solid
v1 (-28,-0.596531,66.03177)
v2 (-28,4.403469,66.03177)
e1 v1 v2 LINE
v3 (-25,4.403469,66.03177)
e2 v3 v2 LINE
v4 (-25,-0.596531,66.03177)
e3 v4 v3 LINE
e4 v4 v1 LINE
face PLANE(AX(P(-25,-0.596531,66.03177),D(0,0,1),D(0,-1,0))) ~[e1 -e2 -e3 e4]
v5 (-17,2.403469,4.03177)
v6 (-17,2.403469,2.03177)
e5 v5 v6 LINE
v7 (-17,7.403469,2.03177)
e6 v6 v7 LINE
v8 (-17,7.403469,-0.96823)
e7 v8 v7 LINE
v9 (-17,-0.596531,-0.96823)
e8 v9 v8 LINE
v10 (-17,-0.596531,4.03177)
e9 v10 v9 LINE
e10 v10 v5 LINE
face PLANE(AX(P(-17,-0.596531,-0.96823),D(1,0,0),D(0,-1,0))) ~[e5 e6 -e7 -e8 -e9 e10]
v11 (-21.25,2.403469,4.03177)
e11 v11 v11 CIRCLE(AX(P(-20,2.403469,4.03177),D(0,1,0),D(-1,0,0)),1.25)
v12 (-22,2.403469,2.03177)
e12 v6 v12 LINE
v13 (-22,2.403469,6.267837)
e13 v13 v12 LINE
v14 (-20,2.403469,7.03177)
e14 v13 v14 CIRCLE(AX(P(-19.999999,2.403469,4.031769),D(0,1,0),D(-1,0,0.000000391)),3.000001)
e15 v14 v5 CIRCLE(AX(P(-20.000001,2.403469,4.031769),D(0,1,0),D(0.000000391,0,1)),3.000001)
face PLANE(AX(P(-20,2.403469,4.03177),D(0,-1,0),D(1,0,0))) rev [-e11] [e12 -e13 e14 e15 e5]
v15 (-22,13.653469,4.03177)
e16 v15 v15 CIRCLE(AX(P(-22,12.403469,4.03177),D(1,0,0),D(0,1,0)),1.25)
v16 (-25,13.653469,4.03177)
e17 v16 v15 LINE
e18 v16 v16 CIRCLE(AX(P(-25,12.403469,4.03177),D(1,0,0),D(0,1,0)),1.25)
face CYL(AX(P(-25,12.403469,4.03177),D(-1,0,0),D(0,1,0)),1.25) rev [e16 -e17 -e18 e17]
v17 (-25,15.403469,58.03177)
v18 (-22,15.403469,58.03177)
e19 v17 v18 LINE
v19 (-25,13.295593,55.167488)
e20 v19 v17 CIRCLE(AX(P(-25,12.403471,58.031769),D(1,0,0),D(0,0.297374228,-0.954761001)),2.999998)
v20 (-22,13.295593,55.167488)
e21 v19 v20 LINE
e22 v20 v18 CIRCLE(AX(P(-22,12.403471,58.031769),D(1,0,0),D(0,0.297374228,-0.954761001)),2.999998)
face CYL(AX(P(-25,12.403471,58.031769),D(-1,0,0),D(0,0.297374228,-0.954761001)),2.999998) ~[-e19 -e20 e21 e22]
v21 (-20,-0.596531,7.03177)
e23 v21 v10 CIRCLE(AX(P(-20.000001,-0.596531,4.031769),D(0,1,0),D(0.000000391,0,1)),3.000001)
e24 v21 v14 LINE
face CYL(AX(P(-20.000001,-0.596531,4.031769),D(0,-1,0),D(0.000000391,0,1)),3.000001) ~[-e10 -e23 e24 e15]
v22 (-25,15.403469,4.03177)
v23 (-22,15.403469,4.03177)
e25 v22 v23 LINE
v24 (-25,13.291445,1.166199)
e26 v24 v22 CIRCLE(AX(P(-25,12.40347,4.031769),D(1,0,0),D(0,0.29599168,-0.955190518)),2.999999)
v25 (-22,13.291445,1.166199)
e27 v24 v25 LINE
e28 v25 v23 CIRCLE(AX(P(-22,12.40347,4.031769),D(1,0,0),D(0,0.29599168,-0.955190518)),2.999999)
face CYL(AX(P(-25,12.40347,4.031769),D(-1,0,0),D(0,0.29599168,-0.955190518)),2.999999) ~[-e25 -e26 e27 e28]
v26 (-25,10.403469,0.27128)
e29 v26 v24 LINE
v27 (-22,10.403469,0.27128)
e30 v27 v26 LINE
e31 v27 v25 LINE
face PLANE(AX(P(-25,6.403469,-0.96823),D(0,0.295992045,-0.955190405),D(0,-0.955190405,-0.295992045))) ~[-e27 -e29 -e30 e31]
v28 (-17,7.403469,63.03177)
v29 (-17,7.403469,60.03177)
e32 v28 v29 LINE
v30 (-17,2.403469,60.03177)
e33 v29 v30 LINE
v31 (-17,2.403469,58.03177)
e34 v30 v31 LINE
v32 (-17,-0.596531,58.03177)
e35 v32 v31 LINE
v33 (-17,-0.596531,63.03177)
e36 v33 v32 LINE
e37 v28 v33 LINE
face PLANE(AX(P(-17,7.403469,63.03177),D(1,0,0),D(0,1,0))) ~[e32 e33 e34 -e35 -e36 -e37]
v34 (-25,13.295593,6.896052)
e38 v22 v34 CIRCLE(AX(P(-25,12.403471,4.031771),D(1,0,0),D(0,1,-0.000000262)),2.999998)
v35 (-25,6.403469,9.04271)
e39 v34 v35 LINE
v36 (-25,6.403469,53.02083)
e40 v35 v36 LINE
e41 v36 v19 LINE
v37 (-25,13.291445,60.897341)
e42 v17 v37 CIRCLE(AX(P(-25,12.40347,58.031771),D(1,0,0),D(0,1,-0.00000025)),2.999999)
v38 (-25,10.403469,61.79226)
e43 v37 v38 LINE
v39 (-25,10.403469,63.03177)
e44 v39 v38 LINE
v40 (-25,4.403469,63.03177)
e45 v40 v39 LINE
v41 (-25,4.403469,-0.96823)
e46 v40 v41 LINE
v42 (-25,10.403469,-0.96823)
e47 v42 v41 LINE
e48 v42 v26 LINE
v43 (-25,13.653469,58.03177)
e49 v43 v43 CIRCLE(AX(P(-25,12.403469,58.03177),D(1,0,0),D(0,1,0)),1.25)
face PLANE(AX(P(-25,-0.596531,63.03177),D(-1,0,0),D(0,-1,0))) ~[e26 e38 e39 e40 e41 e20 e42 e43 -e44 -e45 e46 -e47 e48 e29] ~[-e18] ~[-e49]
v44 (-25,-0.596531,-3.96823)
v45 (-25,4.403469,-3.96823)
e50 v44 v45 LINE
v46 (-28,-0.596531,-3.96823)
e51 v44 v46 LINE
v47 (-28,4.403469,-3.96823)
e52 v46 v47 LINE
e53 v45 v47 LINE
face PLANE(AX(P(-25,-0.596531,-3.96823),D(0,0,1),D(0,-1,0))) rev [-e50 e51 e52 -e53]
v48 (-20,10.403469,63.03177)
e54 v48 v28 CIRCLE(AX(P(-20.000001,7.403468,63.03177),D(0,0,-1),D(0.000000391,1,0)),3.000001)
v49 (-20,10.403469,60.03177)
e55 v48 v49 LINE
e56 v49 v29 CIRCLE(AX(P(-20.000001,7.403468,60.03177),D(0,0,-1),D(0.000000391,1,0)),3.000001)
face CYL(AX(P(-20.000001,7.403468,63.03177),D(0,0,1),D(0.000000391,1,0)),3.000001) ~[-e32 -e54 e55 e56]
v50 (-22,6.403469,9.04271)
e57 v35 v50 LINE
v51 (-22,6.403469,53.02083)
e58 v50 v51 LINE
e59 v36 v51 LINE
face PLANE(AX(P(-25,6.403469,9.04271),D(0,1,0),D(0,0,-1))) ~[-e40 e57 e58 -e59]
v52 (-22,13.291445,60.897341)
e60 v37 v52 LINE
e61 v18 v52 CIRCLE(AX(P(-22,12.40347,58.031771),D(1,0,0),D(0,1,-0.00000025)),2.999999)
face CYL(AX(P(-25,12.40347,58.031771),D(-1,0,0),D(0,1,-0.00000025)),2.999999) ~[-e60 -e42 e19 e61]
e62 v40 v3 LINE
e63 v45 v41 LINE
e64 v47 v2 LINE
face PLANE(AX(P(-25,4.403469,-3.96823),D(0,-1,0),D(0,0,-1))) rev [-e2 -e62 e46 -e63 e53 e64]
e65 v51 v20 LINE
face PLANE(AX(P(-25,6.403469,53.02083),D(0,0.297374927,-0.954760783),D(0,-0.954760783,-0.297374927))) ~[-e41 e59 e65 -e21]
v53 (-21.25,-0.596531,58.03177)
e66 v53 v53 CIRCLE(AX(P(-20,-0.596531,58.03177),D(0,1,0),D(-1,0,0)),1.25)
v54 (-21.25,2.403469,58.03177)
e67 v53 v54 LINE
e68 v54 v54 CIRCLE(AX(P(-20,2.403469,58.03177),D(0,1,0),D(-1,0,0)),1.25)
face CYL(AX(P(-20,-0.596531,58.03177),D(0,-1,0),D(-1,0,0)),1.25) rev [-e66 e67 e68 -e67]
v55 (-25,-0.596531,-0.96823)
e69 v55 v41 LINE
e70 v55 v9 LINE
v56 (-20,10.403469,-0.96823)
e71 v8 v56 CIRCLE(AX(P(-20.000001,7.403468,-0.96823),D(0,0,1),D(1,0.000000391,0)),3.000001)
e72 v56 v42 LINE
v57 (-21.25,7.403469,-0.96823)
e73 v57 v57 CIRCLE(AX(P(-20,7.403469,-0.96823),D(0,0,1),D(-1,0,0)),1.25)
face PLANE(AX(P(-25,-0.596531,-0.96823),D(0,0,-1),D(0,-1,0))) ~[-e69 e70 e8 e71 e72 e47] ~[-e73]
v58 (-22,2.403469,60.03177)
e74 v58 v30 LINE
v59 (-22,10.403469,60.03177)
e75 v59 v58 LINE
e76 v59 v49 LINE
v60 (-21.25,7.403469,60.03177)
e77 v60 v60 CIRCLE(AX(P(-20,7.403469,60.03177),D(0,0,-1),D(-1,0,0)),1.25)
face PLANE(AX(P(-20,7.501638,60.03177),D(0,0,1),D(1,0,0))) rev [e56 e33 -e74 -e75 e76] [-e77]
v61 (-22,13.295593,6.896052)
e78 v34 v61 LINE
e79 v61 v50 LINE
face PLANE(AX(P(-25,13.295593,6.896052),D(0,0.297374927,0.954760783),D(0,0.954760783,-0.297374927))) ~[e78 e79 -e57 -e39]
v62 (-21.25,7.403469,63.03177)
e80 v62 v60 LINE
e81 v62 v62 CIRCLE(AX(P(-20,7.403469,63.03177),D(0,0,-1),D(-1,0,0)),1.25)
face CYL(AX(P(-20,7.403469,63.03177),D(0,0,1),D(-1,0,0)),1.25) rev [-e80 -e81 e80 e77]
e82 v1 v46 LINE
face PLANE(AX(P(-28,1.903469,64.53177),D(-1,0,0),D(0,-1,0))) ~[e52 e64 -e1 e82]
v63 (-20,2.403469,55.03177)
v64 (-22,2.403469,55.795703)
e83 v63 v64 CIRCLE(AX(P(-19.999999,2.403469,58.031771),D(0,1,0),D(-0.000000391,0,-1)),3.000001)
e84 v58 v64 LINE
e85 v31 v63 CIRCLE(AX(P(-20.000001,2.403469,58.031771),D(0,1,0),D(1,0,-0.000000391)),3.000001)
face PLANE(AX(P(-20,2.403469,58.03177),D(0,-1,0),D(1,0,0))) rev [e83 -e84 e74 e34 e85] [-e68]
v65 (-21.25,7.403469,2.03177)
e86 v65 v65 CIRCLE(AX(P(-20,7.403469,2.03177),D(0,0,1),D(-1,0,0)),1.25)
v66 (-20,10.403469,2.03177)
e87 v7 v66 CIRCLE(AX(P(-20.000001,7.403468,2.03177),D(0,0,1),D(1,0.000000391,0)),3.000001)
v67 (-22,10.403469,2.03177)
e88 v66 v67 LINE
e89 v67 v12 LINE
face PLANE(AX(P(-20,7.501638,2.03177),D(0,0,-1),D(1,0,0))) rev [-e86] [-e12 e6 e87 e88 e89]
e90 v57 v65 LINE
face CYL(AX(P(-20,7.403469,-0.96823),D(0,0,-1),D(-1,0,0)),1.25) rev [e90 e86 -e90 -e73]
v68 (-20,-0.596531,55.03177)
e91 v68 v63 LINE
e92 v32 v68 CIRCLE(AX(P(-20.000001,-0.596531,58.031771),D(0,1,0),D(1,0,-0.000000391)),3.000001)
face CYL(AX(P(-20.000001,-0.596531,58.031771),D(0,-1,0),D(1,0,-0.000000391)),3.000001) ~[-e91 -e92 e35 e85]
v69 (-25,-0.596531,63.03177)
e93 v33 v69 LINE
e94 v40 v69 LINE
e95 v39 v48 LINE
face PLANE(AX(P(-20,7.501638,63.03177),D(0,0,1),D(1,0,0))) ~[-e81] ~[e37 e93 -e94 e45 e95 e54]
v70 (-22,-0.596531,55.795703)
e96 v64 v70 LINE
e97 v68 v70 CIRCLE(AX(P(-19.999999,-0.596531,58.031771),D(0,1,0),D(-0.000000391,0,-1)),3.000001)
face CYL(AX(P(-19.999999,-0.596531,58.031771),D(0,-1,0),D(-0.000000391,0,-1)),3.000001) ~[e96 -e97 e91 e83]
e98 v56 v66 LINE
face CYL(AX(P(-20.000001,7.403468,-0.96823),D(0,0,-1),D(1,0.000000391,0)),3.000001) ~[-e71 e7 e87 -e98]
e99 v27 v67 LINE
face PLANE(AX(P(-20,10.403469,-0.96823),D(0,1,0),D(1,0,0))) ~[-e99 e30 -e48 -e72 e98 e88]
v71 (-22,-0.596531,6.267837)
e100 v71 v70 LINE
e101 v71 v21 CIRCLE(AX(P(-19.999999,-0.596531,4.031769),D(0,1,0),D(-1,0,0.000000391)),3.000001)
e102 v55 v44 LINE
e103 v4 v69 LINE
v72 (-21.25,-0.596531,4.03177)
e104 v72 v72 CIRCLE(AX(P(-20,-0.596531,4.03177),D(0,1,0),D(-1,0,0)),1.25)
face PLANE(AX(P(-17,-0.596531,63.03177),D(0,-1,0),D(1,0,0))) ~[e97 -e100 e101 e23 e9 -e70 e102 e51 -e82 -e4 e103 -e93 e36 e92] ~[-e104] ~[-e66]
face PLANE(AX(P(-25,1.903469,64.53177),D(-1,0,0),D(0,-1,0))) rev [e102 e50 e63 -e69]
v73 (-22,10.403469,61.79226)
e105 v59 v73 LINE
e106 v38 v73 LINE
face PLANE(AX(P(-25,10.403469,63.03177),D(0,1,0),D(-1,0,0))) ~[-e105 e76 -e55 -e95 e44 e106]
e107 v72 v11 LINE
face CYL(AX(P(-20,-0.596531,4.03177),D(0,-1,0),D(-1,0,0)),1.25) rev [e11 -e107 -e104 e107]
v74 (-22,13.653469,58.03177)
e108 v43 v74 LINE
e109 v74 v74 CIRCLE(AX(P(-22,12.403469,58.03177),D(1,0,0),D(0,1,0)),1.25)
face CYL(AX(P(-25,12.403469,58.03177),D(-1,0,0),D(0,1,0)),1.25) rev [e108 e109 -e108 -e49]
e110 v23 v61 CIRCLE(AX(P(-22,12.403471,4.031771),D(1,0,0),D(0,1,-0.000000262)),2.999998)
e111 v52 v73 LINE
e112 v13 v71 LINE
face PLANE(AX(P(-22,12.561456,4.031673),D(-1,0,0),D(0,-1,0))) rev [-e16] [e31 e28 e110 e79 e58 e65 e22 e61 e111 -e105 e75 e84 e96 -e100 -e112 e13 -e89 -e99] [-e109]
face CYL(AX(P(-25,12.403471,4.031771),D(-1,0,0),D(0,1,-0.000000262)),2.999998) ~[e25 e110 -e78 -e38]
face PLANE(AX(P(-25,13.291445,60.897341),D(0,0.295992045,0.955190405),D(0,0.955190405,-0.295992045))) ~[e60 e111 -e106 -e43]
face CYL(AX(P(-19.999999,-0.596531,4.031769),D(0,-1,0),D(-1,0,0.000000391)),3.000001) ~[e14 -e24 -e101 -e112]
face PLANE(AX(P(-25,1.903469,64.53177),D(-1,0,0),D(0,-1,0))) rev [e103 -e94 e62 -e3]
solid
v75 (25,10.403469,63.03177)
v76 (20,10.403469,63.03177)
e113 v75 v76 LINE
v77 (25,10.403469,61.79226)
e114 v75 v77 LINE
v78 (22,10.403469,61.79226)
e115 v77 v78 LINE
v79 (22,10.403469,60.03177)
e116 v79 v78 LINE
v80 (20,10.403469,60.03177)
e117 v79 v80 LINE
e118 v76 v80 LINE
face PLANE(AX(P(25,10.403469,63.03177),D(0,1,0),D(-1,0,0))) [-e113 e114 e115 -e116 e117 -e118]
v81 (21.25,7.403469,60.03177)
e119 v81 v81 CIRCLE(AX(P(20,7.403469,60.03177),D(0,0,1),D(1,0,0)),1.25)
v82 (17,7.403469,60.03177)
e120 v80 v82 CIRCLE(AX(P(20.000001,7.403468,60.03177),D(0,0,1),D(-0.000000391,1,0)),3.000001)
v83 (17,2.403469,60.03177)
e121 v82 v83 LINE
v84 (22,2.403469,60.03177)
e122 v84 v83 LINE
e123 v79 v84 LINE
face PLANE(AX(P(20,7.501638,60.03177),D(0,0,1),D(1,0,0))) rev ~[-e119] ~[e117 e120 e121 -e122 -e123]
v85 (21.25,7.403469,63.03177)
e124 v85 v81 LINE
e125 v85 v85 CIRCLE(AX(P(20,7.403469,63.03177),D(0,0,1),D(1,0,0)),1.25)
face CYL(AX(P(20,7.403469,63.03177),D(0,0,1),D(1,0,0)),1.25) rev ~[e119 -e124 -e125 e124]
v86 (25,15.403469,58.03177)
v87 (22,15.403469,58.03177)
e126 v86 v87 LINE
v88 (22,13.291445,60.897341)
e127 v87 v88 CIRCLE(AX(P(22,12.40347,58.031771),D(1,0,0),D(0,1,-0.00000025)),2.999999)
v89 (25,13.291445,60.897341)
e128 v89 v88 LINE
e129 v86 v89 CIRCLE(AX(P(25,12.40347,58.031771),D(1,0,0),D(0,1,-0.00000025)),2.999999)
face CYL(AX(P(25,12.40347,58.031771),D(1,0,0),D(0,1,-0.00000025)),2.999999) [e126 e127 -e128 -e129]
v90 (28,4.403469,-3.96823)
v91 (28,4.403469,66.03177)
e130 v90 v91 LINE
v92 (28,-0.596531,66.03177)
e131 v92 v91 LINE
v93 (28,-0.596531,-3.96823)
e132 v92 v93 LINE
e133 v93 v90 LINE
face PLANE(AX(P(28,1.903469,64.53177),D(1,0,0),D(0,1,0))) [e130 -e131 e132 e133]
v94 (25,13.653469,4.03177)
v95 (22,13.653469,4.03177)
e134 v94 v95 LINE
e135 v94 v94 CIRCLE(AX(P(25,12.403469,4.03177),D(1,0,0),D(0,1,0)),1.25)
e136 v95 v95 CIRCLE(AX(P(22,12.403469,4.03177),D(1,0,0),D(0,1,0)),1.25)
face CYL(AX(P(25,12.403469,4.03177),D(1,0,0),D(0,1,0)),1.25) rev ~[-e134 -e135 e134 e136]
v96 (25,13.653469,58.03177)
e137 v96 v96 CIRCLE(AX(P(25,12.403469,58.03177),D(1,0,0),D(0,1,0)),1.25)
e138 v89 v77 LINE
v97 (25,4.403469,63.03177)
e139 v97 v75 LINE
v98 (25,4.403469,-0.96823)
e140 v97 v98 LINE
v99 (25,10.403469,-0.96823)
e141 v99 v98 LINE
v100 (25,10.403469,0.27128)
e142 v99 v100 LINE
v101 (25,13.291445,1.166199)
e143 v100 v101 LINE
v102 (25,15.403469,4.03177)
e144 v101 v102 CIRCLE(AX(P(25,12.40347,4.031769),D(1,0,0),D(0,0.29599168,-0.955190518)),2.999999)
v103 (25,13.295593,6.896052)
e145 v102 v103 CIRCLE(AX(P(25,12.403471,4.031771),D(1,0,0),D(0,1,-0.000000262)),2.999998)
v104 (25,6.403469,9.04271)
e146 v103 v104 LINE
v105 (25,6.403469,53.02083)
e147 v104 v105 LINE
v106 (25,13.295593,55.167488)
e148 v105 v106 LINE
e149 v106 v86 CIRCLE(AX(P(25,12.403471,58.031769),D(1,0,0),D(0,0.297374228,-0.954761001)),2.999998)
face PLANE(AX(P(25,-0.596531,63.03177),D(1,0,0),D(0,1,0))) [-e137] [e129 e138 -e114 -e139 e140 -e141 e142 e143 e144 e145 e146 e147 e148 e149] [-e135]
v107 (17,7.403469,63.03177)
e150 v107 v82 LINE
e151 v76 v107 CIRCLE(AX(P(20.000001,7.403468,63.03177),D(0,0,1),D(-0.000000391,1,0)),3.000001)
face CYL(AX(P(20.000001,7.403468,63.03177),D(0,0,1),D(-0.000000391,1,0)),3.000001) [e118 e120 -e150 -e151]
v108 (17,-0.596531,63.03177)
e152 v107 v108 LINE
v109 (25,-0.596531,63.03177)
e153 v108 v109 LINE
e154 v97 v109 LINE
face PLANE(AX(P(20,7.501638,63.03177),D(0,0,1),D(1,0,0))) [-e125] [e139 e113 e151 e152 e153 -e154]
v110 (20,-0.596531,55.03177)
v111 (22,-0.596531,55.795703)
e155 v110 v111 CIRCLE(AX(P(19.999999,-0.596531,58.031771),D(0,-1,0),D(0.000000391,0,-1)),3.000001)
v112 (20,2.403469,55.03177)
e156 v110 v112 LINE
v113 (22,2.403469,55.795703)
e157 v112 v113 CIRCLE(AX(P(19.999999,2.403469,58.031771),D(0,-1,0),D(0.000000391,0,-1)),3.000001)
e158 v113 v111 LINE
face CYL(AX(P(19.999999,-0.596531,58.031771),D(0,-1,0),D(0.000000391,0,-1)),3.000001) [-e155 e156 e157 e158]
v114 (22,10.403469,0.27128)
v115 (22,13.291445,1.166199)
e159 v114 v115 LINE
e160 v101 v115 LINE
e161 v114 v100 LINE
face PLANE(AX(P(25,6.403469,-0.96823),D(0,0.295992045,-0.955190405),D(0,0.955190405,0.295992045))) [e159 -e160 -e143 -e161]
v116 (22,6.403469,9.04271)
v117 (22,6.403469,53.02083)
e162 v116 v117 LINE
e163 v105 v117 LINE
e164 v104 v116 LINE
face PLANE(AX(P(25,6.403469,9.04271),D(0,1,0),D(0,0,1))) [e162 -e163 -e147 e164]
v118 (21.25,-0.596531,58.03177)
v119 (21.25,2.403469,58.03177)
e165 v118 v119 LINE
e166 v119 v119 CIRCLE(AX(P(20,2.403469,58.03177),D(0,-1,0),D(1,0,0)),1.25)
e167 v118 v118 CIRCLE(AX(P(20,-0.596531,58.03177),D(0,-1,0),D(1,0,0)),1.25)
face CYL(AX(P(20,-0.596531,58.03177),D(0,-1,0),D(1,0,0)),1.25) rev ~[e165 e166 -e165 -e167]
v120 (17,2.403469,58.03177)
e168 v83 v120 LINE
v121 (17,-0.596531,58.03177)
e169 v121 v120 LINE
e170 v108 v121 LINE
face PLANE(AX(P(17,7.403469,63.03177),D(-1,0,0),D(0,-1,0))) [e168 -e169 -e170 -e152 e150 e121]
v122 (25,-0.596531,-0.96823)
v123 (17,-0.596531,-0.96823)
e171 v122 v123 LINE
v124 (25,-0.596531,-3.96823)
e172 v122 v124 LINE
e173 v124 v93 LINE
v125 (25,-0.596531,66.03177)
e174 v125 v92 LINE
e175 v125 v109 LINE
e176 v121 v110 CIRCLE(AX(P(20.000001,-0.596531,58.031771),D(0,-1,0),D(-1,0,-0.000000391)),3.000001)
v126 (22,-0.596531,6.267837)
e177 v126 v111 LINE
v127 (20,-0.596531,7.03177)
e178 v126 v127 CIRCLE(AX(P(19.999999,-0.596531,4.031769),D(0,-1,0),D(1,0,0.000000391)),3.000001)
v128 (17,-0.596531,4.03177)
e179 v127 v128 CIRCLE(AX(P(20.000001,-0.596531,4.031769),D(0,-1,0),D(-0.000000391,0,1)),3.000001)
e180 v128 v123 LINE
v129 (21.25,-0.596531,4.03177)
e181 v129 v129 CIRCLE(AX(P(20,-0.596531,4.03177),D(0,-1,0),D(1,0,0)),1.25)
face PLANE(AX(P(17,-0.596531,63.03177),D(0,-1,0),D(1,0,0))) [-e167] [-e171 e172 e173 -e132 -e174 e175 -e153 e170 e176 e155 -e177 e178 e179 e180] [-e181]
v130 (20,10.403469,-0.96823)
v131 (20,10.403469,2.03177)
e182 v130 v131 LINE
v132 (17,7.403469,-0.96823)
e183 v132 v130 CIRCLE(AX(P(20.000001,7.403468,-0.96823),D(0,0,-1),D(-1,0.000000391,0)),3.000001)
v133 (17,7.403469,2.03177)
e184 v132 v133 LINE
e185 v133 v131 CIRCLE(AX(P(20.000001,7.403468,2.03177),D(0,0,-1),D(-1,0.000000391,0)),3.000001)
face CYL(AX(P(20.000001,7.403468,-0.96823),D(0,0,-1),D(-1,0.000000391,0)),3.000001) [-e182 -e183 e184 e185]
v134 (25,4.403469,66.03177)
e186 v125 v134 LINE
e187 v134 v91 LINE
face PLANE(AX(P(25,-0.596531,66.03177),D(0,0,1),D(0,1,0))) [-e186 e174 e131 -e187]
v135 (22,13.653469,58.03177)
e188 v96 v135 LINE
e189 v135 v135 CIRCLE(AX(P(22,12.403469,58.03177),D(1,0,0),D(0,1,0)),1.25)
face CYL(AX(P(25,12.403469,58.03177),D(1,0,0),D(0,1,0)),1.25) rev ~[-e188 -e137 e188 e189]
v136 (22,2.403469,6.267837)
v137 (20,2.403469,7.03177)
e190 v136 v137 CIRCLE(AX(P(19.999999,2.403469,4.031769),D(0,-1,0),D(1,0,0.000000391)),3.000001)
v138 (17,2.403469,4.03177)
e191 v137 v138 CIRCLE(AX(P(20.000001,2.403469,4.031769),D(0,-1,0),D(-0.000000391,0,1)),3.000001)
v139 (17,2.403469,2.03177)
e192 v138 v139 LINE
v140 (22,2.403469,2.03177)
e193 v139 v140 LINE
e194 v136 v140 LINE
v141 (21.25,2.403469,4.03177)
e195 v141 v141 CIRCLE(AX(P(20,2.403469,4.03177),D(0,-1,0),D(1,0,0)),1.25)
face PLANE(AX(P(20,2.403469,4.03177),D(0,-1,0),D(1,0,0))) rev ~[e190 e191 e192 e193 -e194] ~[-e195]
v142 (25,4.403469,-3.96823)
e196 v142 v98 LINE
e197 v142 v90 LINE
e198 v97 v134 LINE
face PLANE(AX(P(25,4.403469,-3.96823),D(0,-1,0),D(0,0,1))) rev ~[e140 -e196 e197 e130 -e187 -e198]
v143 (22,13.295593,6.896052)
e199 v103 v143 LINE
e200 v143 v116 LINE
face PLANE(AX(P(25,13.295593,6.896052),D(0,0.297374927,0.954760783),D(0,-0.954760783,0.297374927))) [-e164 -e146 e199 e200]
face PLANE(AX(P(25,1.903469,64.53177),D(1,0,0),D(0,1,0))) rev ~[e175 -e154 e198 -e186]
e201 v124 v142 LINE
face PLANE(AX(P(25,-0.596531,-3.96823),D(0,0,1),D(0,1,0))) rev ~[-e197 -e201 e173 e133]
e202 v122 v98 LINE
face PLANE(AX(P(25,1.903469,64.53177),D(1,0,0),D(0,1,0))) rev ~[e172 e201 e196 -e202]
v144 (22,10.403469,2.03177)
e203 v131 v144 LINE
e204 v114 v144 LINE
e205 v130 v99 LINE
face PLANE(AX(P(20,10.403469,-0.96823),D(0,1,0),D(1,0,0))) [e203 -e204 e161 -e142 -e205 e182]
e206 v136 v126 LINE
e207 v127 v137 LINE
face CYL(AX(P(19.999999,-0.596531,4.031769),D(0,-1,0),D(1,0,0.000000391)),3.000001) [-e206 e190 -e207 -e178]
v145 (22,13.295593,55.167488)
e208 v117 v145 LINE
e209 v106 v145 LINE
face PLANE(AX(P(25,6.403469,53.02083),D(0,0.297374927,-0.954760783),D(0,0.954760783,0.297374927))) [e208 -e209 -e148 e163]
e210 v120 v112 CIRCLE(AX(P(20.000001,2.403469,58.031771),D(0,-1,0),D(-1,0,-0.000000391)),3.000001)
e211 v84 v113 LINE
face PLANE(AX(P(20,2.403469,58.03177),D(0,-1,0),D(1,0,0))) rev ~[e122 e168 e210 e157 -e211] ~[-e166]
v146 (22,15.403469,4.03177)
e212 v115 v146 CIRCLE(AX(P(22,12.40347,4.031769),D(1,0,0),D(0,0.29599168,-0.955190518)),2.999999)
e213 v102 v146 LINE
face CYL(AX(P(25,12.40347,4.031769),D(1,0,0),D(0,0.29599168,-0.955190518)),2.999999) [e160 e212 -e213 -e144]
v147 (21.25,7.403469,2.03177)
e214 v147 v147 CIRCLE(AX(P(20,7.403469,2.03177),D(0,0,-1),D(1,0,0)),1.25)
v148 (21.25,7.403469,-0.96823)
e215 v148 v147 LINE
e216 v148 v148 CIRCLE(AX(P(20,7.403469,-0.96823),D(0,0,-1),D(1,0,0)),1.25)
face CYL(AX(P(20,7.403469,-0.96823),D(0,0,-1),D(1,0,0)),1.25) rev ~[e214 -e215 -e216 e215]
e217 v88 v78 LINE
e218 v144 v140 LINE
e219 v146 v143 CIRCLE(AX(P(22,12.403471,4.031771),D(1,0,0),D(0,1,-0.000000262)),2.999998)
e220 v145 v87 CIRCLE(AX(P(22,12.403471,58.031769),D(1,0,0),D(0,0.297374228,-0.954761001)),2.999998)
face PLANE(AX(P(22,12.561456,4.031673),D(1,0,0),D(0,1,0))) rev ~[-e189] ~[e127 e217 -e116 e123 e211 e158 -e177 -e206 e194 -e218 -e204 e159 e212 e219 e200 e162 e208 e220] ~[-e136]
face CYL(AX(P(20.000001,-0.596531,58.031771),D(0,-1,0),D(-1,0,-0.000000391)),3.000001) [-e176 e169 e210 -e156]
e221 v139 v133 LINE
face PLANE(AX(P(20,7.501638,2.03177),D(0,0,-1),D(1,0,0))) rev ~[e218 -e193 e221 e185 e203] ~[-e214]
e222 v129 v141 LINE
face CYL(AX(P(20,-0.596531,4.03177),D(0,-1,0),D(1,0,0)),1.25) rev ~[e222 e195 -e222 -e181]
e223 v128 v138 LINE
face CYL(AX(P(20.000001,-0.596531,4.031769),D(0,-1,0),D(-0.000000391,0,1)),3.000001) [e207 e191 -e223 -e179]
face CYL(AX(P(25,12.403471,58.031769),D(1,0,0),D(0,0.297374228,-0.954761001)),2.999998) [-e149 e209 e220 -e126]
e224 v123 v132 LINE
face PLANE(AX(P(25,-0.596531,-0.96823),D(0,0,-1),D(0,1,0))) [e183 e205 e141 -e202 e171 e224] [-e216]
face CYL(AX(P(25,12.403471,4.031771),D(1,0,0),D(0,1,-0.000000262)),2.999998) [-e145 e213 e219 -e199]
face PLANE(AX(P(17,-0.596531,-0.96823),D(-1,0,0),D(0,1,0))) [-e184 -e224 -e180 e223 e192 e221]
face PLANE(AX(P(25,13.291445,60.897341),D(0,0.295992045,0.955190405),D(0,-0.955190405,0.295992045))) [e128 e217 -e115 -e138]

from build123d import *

# Parameters (mm, degrees)
F1_W     = 5
F1_H     = 3
F1_H_2   = 64
F2_DEPTH = 3
F1_R     = 1.25
F3_DEPTH = 3
F4_R     = 1.25
F5_DEPTH = 3
F6_R     = 1.25
F7_DEPTH = 3
F8_R     = 1.25
F9_DEPTH = 3


with BuildPart() as f2:
    # F1 (on offset) → F2 (new body)
    with BuildSketch(Plane.YZ.offset(25)):
        with Locations((1.903469, 64.53177)):
            Rectangle(F1_W, F1_H)
        with Locations((1.903469, 31.03177)):
            Rectangle(F1_W, F1_H_2)
        with Locations((1.903469, -2.46823)):
            Rectangle(F1_W, F1_H)
    extrude(amount=F2_DEPTH)

    # F1 (on offset) → F3 (join)
    with BuildSketch(Plane.YZ.offset(25)):
        with BuildLine():
            ThreePointArc((13.295593, 6.896052), (9.40347, 4.033942), (13.291445, 1.166199))
            ThreePointArc((13.291445, 1.166199), (14.818415, 2.251872), (15.403469, 4.03177))
            ThreePointArc((15.403469, 4.03177), (14.819703, 5.809919), (13.295593, 6.896052))
        make_face()
        with Locations((12.403469, 4.03177)):
            Circle(F1_R, mode=Mode.SUBTRACT)
        with BuildLine():
            ThreePointArc((15.403469, 58.03177), (14.818415, 59.811668), (13.291445, 60.897341))
            ThreePointArc((13.291445, 60.897341), (9.40347, 58.029598), (13.295593, 55.167488))
            ThreePointArc((13.295593, 55.167488), (14.819703, 56.253621), (15.403469, 58.03177))
        make_face()
        with Locations((12.403469, 58.03177)):
            Circle(F1_R, mode=Mode.SUBTRACT)
        with BuildLine():
            Line((13.291445, 60.897341), (6.403469, 63.03177))
            Line((6.403469, 63.03177), (6.403469, 53.02083))
            Line((6.403469, 53.02083), (13.295593, 55.167488))
            ThreePointArc((13.295593, 55.167488), (9.40347, 58.029598), (13.291445, 60.897341))
        make_face()
        with BuildLine():
            Line((6.403469, 9.04271), (6.403469, -0.96823))
            Line((6.403469, -0.96823), (13.291445, 1.166199))
            ThreePointArc((13.291445, 1.166199), (9.40347, 4.033942), (13.295593, 6.896052))
            Line((13.295593, 6.896052), (6.403469, 9.04271))
        make_face()
        with Locations((1.903469, 31.03177)):
            Rectangle(F1_W, F1_H_2)
        Polygon((6.403469, 63.03177), (4.403469, 63.03177), (4.403469, -0.96823), (6.403469, -0.96823), (6.403469, 9.04271), (6.403469, 53.02083), align=None)
    extrude(amount=-F3_DEPTH)

    # F4 (on face) → F5 (join)
    with BuildSketch(Plane.XZ.offset(0.596531)):
        with BuildLine():
            ThreePointArc((20, 61.03177), (17.87868, 60.15309), (17, 58.03177))
            ThreePointArc((17, 58.03177), (17.87868, 55.91045), (20, 55.03177))
            ThreePointArc((20, 55.03177), (22.12132, 55.91045), (23, 58.03177))
            ThreePointArc((23, 58.03177), (22.12132, 60.15309), (20, 61.03177))
        make_face()
        with Locations((20, 58.03177)):
            Circle(F4_R, mode=Mode.SUBTRACT)
        with BuildLine():
            Line((17, 61.03177), (17, 58.03177))
            ThreePointArc((17, 58.03177), (17.87868, 60.15309), (20, 61.03177))
            Line((20, 61.03177), (17, 61.03177))
        make_face()
        with BuildLine():
            ThreePointArc((20, 1.03177), (22.12132, 1.91045), (23, 4.03177))
            ThreePointArc((23, 4.03177), (22.12132, 6.15309), (20, 7.03177))
            ThreePointArc((20, 7.03177), (17.87868, 6.15309), (17, 4.03177))
            ThreePointArc((17, 4.03177), (17.87868, 1.91045), (20, 1.03177))
        make_face()
        with Locations((20, 4.03177)):
            Circle(F4_R, mode=Mode.SUBTRACT)
        with BuildLine():
            Line((17, 1.03177), (20, 1.03177))
            ThreePointArc((20, 1.03177), (17.87868, 1.91045), (17, 4.03177))
            Line((17, 4.03177), (17, 1.03177))
        make_face()
    extrude(amount=-F5_DEPTH)

    # F6 (on face) → F7 (join)
    with BuildSketch(Plane.XY.offset(63.03177)):
        with BuildLine():
            ThreePointArc((17, 7.403469), (20, 4.403469), (23, 7.403469))
            ThreePointArc((23, 7.403469), (22.12132, 9.524789), (20, 10.403469))
            ThreePointArc((20, 10.403469), (17.87868, 9.524789), (17, 7.403469))
        make_face()
        with Locations((20, 7.403469)):
            Circle(F6_R, mode=Mode.SUBTRACT)
        with BuildLine():
            ThreePointArc((20, 10.403469), (22.12132, 9.524789), (23, 7.403469))
            ThreePointArc((23, 7.403469), (20, 4.403469), (17, 7.403469))
            Line((17, 7.403469), (17, -0.596531))
            Line((17, -0.596531), (20, -0.596531))
            Line((20, -0.596531), (25, 4.403469))
            Line((25, 4.403469), (25, 6.403469))
            Line((25, 6.403469), (25, 10.403469))
            Line((25, 10.403469), (20, 10.403469))
        make_face()
        Polygon((25, 4.403469), (20, -0.596531), (22, -0.596531), (25, -0.596531), align=None)
        with BuildLine():
            ThreePointArc((22, 5.167401), (18.775255, 4.664856), (17, 7.403469))
            Line((17, 7.403469), (17, -0.596531))
            Line((17, -0.596531), (20, -0.596531))
            Line((20, -0.596531), (22, 1.403469))
            Line((22, 1.403469), (22, 5.167401))
        make_face()
        with BuildLine():
            ThreePointArc((20, 10.403469), (22.12132, 9.524789), (23, 7.403469))
            ThreePointArc((23, 7.403469), (22.956796, 6.896163), (22.828427, 6.403469))
            Line((22.828427, 6.403469), (25, 6.403469))
            Line((25, 6.403469), (25, 10.403469))
            Line((25, 10.403469), (20, 10.403469))
        make_face()
    extrude(amount=-F7_DEPTH)

    # F8 (on face) → F9 (join)
    with BuildSketch(Plane(origin=(0, 0, -0.96823), x_dir=(1, 0, 0), z_dir=(0, 0, -1))):
        with BuildLine():
            ThreePointArc((20, -10.403469), (22.12132, -9.524789), (23, -7.403469))
            ThreePointArc((23, -7.403469), (20, -4.403469), (17, -7.403469))
            ThreePointArc((17, -7.403469), (17.87868, -9.524789), (20, -10.403469))
        make_face()
        with Locations((20, -7.403469)):
            Circle(F8_R, mode=Mode.SUBTRACT)
        with BuildLine():
            Line((17, 0.596531), (17, -7.403469))
            ThreePointArc((17, -7.403469), (18.775255, -4.664856), (22, -5.167401))
            Line((22, -5.167401), (22, 0.596531))
            Line((22, 0.596531), (17, 0.596531))
        make_face()
        with BuildLine():
            ThreePointArc((23, -7.403469), (22.12132, -9.524789), (20, -10.403469))
            Line((20, -10.403469), (25, -10.403469))
            Line((25, -10.403469), (25, -6.403469))
            Line((25, -6.403469), (22.828427, -6.403469))
            ThreePointArc((22.828427, -6.403469), (22.956796, -6.896163), (23, -7.403469))
        make_face()
    extrude(amount=-F9_DEPTH)


with BuildPart() as f10_1:
    # F10: instance of F2
    add(f2.part.mirror(Plane.YZ))


solid = Compound([f2.part, f10_1.part])
